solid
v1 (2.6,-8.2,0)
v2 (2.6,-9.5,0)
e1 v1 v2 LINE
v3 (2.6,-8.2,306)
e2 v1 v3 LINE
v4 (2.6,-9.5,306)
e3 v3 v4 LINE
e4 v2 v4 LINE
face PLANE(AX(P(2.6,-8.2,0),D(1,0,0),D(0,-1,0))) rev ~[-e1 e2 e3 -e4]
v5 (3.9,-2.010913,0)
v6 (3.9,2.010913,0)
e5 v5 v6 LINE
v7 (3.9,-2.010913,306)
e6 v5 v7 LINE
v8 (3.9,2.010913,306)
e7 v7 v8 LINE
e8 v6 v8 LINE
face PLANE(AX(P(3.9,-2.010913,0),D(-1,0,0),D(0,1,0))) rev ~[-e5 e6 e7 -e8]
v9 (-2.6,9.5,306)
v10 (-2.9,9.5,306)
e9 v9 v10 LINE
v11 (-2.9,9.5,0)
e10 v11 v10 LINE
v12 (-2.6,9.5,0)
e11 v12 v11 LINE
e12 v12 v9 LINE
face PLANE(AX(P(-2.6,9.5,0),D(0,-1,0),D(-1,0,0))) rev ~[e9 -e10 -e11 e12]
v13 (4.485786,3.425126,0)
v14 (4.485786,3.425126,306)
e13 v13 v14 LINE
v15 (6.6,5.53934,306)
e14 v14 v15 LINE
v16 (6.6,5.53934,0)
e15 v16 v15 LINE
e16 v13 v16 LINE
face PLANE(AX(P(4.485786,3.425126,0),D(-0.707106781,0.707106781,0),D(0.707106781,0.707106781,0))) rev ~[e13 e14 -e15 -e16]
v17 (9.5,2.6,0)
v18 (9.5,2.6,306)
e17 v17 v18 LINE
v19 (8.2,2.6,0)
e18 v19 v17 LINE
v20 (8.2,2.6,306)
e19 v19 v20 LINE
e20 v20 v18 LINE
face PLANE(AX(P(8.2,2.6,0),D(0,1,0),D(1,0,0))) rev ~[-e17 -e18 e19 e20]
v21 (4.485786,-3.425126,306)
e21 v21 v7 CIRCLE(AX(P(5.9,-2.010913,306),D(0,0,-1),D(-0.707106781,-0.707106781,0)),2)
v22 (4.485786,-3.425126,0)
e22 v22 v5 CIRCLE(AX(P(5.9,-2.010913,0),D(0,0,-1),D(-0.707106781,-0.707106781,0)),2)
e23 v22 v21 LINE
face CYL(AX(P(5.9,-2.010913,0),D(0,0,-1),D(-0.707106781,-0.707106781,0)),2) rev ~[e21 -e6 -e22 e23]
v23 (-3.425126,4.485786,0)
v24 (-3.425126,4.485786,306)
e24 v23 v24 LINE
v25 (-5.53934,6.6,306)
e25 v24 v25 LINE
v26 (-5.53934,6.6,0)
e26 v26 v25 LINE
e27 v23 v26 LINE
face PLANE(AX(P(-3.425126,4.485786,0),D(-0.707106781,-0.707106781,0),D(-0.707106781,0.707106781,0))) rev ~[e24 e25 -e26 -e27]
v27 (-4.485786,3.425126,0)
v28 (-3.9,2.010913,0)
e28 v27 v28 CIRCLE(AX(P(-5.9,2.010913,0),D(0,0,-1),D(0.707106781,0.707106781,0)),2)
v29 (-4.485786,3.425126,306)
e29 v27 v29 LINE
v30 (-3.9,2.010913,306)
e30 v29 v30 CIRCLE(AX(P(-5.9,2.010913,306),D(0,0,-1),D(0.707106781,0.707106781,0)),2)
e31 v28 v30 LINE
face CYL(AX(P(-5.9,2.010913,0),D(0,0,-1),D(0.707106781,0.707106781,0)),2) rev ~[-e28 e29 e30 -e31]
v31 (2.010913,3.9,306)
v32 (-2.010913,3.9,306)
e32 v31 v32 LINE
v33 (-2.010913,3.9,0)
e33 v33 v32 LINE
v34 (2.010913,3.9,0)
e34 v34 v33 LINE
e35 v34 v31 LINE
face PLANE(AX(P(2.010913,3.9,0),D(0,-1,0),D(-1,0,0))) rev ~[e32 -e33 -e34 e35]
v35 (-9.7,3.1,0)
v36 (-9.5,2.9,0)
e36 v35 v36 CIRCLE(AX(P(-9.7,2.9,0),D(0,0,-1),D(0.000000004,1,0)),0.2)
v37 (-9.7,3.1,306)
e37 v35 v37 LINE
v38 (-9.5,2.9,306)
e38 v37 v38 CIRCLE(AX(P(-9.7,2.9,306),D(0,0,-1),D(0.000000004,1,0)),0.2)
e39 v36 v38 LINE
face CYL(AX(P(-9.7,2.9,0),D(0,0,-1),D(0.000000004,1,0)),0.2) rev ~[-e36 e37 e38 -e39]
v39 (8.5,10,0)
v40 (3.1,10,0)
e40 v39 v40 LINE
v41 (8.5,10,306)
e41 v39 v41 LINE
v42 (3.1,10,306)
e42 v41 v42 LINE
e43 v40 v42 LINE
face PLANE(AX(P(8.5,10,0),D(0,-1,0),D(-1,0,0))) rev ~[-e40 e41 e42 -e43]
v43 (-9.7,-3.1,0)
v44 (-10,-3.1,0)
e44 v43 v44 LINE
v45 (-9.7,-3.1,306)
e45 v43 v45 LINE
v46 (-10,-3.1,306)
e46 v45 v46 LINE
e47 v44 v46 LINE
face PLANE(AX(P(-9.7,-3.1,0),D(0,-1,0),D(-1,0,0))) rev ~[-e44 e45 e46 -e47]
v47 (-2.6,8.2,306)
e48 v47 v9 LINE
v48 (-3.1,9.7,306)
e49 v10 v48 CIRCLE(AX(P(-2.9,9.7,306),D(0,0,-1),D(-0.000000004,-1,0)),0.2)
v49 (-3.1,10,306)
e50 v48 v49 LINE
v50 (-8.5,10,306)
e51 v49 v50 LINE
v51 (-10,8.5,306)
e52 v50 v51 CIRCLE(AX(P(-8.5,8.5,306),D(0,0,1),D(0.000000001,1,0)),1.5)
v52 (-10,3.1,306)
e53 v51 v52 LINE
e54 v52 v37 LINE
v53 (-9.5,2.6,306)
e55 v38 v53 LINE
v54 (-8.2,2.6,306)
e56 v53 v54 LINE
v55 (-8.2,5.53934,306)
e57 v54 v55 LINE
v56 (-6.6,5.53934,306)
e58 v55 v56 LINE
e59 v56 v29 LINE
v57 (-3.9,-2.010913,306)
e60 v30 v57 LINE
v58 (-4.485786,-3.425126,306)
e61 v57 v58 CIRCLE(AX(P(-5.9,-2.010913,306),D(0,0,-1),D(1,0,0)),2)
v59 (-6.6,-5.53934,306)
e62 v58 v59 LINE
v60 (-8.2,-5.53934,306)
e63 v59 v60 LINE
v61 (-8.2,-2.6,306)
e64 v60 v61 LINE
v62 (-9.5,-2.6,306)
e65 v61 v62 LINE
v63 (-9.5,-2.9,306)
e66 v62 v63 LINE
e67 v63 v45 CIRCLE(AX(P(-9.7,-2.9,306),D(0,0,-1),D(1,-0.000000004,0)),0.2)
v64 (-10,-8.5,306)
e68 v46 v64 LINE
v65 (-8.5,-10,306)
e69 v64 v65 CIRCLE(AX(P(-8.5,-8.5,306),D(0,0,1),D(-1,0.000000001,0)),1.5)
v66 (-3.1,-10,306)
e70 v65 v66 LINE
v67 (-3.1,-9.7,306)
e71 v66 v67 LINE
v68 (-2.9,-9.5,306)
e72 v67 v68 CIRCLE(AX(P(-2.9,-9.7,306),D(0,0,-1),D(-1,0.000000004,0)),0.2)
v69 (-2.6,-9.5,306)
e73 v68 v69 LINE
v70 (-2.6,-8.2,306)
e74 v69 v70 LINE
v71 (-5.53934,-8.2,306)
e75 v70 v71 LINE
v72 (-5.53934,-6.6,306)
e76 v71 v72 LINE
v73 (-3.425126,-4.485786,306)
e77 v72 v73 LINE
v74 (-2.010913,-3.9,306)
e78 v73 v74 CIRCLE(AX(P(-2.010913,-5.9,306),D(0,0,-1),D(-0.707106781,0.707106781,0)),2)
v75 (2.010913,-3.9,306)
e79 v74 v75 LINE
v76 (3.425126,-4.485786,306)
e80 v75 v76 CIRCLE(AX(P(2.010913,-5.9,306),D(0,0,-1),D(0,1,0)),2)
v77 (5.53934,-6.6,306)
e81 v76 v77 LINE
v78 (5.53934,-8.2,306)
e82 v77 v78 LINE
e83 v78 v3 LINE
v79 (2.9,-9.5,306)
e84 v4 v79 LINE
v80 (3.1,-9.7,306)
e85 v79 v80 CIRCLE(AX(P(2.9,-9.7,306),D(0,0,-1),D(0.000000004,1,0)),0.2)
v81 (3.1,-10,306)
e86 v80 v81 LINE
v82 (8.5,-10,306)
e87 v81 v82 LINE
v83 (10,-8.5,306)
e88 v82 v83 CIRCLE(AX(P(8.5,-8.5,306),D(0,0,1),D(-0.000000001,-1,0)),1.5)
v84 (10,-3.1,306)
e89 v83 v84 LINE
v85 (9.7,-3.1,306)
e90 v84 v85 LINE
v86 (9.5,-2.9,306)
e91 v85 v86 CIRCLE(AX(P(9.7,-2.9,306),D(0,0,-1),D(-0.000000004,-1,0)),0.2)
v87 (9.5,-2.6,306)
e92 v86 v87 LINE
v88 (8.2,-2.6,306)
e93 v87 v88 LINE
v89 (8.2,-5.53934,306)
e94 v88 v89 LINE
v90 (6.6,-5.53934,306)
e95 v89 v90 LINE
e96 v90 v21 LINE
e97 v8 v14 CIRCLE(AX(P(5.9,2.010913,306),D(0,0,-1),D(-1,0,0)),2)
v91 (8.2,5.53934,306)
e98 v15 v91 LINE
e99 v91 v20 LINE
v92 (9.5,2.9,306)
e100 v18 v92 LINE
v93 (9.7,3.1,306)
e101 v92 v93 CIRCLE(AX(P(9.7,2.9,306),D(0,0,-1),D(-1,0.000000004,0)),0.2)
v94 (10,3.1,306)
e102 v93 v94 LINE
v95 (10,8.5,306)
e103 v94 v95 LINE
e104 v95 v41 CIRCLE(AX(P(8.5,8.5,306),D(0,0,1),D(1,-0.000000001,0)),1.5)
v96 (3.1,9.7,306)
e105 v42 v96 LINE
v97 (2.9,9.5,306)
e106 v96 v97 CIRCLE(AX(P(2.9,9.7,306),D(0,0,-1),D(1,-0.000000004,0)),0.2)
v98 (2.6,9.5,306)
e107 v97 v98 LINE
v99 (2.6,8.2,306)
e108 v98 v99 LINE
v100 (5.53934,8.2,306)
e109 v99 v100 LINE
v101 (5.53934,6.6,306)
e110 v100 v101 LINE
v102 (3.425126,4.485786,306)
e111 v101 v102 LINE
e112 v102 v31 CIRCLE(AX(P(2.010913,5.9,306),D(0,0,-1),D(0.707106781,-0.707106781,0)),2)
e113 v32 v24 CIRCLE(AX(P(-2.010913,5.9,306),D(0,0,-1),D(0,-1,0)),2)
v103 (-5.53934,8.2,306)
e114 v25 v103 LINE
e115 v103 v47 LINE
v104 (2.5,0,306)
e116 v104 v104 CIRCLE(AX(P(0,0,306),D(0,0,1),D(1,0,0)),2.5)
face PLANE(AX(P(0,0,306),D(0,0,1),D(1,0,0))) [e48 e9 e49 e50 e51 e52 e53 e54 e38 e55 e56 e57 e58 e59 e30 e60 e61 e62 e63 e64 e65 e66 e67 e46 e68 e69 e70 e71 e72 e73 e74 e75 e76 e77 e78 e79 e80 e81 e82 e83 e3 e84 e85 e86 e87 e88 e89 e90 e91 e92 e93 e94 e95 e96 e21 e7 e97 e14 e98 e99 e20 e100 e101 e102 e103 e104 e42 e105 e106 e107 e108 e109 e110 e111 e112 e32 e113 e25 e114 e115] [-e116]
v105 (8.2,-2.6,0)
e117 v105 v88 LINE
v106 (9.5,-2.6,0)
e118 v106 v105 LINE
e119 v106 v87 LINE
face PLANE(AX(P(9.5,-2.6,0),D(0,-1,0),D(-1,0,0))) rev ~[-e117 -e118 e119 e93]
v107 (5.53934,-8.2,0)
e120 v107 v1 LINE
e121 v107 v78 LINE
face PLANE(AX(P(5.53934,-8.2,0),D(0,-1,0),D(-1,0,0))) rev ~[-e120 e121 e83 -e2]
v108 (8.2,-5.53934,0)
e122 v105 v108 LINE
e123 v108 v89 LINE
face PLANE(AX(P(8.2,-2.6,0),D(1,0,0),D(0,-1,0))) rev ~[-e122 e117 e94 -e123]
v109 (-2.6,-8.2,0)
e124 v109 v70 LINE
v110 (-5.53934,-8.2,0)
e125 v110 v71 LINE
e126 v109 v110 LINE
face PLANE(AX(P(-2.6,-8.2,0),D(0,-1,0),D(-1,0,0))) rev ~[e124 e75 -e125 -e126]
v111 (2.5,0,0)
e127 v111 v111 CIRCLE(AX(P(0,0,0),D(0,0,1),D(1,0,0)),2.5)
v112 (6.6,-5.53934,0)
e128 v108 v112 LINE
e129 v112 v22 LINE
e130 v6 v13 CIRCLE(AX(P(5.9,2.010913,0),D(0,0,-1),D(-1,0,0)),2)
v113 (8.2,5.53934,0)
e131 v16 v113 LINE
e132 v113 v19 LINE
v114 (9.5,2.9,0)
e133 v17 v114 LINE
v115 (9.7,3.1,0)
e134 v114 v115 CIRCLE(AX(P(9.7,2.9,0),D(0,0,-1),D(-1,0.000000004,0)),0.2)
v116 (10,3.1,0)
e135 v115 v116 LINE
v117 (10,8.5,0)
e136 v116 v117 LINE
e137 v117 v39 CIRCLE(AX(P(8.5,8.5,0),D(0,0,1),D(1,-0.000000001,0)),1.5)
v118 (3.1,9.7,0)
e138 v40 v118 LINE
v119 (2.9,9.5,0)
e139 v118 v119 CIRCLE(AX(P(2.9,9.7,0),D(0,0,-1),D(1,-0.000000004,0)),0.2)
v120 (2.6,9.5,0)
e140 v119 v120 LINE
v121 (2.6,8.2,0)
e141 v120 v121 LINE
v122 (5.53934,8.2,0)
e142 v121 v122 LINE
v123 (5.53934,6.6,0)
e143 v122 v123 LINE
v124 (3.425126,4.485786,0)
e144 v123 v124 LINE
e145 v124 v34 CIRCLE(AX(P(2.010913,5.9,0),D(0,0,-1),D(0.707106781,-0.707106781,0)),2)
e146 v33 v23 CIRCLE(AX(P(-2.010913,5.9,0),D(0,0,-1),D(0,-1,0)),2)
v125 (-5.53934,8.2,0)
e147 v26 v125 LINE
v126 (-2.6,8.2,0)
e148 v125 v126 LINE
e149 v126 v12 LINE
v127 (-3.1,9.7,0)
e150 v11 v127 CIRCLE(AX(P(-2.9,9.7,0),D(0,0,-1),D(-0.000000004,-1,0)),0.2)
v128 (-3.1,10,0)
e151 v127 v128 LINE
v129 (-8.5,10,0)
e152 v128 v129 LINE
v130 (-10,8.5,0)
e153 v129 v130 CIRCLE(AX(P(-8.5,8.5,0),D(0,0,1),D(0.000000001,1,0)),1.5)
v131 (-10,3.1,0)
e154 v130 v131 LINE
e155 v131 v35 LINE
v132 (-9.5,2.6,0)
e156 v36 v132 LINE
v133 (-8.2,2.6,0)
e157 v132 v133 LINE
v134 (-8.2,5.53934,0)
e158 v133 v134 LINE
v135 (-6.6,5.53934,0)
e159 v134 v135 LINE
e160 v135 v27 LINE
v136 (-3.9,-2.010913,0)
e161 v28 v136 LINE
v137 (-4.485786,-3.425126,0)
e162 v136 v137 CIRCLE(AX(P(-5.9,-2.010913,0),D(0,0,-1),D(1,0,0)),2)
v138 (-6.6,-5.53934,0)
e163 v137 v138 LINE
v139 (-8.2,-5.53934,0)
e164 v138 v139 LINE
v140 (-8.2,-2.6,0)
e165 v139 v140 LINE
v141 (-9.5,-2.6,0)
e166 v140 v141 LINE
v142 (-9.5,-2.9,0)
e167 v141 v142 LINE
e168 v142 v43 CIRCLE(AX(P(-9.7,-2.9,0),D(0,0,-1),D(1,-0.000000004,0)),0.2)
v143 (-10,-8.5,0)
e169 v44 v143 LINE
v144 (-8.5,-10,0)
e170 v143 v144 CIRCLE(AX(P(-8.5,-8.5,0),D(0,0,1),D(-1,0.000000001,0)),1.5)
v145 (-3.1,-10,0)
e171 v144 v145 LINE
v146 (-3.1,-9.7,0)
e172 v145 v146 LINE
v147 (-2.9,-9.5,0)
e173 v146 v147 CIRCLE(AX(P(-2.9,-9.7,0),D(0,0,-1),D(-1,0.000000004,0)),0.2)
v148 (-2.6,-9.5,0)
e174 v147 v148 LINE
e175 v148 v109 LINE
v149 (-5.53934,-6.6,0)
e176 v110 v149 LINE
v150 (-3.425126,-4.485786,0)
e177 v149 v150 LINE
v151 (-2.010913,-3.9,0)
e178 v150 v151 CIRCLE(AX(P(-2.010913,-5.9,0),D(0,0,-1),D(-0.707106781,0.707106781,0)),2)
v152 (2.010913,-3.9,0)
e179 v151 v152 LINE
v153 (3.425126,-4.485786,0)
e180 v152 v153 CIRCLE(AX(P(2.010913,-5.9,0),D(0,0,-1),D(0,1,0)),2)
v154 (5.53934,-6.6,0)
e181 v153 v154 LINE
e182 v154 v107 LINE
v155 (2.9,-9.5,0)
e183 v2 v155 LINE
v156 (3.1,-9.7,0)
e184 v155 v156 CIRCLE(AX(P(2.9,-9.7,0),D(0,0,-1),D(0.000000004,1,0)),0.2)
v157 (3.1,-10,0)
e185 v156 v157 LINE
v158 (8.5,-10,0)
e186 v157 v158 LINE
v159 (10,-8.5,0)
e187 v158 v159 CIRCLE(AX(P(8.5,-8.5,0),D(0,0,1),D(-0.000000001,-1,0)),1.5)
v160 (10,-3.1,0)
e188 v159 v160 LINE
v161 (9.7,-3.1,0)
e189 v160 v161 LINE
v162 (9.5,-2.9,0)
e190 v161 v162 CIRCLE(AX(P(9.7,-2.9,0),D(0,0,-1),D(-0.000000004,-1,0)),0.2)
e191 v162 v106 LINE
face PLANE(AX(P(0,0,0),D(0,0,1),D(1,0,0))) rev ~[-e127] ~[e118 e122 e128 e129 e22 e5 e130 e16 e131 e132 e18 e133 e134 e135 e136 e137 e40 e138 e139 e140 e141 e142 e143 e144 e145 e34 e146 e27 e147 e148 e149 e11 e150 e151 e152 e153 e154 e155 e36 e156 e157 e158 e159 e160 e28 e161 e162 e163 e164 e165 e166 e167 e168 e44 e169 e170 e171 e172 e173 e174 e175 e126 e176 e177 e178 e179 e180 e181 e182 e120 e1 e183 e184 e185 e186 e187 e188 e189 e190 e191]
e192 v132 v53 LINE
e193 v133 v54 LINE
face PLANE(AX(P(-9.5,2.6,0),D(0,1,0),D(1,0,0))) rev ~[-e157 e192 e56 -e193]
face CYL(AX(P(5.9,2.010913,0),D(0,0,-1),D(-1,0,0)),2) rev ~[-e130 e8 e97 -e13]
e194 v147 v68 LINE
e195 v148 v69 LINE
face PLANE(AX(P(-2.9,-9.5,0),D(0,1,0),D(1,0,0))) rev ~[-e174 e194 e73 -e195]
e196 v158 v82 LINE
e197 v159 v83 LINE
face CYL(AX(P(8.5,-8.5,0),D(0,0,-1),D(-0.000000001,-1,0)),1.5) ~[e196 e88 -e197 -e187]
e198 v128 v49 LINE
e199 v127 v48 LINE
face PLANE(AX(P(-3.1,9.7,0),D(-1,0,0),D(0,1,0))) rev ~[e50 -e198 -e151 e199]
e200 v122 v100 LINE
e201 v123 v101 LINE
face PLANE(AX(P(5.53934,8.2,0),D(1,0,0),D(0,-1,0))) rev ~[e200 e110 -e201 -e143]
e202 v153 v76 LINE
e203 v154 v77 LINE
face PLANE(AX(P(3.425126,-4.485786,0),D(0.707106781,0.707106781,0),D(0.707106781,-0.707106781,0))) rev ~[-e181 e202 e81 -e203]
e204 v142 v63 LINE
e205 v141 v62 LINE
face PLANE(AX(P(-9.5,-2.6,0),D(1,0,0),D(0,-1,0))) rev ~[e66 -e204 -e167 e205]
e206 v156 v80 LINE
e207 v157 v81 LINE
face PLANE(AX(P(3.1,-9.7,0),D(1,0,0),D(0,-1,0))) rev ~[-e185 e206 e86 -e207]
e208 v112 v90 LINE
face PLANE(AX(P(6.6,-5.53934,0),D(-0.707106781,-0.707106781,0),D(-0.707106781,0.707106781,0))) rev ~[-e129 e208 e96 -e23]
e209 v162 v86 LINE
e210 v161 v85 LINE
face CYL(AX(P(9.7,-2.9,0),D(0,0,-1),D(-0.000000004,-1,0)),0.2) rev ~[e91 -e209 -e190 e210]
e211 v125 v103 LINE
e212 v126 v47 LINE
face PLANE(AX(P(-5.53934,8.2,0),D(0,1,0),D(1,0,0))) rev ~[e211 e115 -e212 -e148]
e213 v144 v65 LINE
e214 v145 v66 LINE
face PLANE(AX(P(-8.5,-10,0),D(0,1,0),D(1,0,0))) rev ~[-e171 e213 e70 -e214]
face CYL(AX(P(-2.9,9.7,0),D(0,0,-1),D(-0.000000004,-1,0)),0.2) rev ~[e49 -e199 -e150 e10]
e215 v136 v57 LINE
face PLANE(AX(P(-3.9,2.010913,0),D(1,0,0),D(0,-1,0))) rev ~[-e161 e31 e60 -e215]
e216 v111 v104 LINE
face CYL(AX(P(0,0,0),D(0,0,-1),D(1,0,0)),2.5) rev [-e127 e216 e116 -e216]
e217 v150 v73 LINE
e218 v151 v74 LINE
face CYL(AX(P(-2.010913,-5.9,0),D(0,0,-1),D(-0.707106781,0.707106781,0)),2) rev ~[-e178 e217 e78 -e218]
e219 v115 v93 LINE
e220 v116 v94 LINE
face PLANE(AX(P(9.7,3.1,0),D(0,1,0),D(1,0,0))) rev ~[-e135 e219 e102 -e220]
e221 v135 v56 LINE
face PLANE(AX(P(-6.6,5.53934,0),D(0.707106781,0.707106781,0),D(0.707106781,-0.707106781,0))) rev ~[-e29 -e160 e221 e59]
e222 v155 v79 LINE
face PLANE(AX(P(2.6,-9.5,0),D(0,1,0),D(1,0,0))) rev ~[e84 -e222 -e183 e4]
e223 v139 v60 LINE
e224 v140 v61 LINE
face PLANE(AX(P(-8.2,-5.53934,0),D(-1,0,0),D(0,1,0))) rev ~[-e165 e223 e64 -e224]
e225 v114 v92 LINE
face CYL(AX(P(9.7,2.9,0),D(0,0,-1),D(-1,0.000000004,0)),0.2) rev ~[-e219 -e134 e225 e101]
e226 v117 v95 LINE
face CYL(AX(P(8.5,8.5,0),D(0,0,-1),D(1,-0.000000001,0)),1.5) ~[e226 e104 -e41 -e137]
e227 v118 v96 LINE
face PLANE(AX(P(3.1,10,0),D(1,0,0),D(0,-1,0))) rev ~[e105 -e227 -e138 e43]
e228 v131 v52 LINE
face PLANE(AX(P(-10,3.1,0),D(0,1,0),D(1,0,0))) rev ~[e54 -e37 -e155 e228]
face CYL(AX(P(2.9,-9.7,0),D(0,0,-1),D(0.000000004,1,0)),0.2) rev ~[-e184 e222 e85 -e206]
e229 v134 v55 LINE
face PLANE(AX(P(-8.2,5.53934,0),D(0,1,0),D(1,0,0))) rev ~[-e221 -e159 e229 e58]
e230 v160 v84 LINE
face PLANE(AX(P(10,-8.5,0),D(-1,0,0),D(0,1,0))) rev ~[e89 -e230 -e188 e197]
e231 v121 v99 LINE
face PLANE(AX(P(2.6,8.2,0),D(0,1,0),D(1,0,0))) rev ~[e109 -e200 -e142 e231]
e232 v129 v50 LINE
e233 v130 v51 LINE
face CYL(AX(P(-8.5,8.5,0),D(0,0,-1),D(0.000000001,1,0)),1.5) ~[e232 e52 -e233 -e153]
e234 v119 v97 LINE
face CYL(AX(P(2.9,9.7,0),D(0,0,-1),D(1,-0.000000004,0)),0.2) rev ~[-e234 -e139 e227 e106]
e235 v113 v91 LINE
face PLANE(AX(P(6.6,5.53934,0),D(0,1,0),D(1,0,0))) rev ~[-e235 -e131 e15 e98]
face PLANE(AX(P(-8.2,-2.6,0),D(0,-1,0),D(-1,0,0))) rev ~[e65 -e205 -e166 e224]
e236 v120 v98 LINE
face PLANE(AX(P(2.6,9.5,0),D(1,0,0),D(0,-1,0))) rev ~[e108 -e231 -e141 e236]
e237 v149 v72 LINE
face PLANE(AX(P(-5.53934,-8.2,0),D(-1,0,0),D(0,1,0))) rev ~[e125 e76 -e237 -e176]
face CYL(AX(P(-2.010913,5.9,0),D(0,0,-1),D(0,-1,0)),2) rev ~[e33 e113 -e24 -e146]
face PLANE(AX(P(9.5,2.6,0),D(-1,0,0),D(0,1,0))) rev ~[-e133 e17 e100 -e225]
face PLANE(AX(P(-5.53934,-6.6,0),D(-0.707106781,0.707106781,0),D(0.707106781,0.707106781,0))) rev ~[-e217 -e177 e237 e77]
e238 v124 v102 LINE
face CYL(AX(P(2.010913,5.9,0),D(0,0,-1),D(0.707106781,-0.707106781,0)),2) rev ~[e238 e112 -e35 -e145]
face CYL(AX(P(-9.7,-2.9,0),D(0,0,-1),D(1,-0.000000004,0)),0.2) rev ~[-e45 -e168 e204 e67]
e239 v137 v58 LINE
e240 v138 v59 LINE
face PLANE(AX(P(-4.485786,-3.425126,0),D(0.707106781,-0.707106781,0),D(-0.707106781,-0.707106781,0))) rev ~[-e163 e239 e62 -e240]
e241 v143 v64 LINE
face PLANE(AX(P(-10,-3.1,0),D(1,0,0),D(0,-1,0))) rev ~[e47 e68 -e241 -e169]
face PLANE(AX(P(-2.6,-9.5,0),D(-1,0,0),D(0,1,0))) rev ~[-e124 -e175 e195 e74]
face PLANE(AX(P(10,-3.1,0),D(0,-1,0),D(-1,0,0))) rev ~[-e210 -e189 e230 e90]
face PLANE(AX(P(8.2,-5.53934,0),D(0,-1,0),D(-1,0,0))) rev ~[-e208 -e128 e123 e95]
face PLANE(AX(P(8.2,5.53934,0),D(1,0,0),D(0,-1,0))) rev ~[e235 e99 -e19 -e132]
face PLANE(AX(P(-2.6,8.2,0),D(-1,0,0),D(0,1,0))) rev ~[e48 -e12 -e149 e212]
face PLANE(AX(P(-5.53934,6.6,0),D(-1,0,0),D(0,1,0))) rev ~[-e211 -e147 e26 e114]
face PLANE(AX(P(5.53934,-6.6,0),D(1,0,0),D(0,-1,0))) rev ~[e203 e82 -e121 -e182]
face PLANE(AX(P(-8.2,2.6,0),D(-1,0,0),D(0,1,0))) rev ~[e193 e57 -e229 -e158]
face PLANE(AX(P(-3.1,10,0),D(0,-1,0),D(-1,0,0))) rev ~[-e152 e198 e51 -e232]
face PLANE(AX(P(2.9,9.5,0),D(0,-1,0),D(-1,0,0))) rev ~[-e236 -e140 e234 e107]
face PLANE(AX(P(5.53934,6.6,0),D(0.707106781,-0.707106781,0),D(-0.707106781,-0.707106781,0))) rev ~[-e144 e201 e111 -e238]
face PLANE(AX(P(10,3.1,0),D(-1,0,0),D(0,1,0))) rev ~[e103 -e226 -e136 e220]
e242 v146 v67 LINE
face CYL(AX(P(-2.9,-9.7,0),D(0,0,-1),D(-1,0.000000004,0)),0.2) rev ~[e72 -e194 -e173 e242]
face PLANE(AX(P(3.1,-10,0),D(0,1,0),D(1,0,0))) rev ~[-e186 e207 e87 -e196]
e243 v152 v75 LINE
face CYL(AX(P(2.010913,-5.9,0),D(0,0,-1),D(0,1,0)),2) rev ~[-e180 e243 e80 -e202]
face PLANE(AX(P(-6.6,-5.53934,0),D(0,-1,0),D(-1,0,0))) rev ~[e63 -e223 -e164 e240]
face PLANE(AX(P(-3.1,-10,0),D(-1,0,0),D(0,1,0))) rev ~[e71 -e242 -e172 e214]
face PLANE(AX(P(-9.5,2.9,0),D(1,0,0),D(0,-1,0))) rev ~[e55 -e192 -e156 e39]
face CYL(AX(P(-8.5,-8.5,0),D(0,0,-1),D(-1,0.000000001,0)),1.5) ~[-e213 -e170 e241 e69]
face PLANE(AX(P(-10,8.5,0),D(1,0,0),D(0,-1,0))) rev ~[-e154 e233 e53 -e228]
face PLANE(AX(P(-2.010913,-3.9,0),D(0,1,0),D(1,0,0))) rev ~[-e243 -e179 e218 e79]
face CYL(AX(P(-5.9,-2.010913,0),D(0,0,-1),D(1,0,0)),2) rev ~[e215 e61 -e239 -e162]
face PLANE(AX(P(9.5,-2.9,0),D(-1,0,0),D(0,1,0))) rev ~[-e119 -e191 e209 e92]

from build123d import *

# Parameters (mm, degrees)
SKETCH1_R      = 2.5
EXTRUDE1_DEPTH = 306


with BuildPart() as part:
    # Sketch1 → Extrude1 (new body)
    with BuildSketch(Plane.XY):
        with BuildLine():
            Line((0, 3.9), (-2.010912703, 3.9))
            ThreePointArc((-2.010912703, 3.9), (-2.776279568, 4.052240935), (-3.425126266, 4.485786438))
            Line((-3.425126266, 4.485786438), (-5.539339828, 6.6))
            Line((-5.539339828, 6.6), (-5.539339828, 8.2))
            Line((-5.539339828, 8.2), (-2.6, 8.2))
            Line((-2.6, 8.2), (-2.6, 9.5))
            Line((-2.6, 9.5), (-2.9, 9.5))
            ThreePointArc((-2.9, 9.5), (-3.041421356, 9.558578644), (-3.1, 9.7))
            Line((-3.1, 9.7), (-3.1, 10))
            Line((-3.1, 10), (-8.5, 10))
            ThreePointArc((-8.5, 10), (-9.560660172, 9.560660172), (-10, 8.5))
            Line((-10, 8.5), (-10, 3.1))
            Line((-10, 3.1), (-9.7, 3.1))
            ThreePointArc((-9.7, 3.1), (-9.558578644, 3.041421356), (-9.5, 2.9))
            Line((-9.5, 2.9), (-9.5, 2.6))
            Line((-9.5, 2.6), (-8.2, 2.6))
            Line((-8.2, 2.6), (-8.2, 5.539339828))
            Line((-8.2, 5.539339828), (-6.6, 5.539339828))
            Line((-6.6, 5.539339828), (-4.485786438, 3.425126266))
            ThreePointArc((-4.485786438, 3.425126266), (-4.052240935, 2.776279568), (-3.9, 2.010912703))
            Line((-3.9, 2.010912703), (-3.9, 0))
            Line((-3.9, 0), (-3.9, -2.010912703))
            ThreePointArc((-3.9, -2.010912703), (-4.052240935, -2.776279568), (-4.485786438, -3.425126266))
            Line((-4.485786438, -3.425126266), (-6.6, -5.539339828))
            Line((-6.6, -5.539339828), (-8.2, -5.539339828))
            Line((-8.2, -5.539339828), (-8.2, -2.6))
            Line((-8.2, -2.6), (-9.5, -2.6))
            Line((-9.5, -2.6), (-9.5, -2.9))
            ThreePointArc((-9.5, -2.9), (-9.558578644, -3.041421356), (-9.7, -3.1))
            Line((-9.7, -3.1), (-10, -3.1))
            Line((-10, -3.1), (-10, -8.5))
            ThreePointArc((-10, -8.5), (-9.560660172, -9.560660172), (-8.5, -10))
            Line((-8.5, -10), (-3.1, -10))
            Line((-3.1, -10), (-3.1, -9.7))
            ThreePointArc((-3.1, -9.7), (-3.041421356, -9.558578644), (-2.9, -9.5))
            Line((-2.9, -9.5), (-2.6, -9.5))
            Line((-2.6, -9.5), (-2.6, -8.2))
            Line((-2.6, -8.2), (-5.539339828, -8.2))
            Line((-5.539339828, -8.2), (-5.539339828, -6.6))
            Line((-5.539339828, -6.6), (-3.425126266, -4.485786438))
            ThreePointArc((-3.425126266, -4.485786438), (-2.776279568, -4.052240935), (-2.010912703, -3.9))
            Line((-2.010912703, -3.9), (0, -3.9))
            Line((0, -3.9), (2.010912703, -3.9))
            ThreePointArc((2.010912703, -3.9), (2.776279568, -4.052240935), (3.425126266, -4.485786438))
            Line((3.425126266, -4.485786438), (5.539339828, -6.6))
            Line((5.539339828, -6.6), (5.539339828, -8.2))
            Line((5.539339828, -8.2), (2.6, -8.2))
            Line((2.6, -8.2), (2.6, -9.5))
            Line((2.6, -9.5), (2.9, -9.5))
            ThreePointArc((2.9, -9.5), (3.041421356, -9.558578644), (3.1, -9.7))
            Line((3.1, -9.7), (3.1, -10))
            Line((3.1, -10), (8.5, -10))
            ThreePointArc((8.5, -10), (9.560660172, -9.560660172), (10, -8.5))
            Line((10, -8.5), (10, -3.1))
            Line((10, -3.1), (9.7, -3.1))
            ThreePointArc((9.7, -3.1), (9.558578644, -3.041421356), (9.5, -2.9))
            Line((9.5, -2.9), (9.5, -2.6))
            Line((9.5, -2.6), (8.2, -2.6))
            Line((8.2, -2.6), (8.2, -5.539339828))
            Line((8.2, -5.539339828), (6.6, -5.539339828))
            Line((6.6, -5.539339828), (4.485786438, -3.425126266))
            ThreePointArc((4.485786438, -3.425126266), (4.052240935, -2.776279568), (3.9, -2.010912703))
            Line((3.9, -2.010912703), (3.9, 0))
            Line((3.9, 0), (3.9, 2.010912703))
            ThreePointArc((3.9, 2.010912703), (4.052240935, 2.776279568), (4.485786438, 3.425126266))
            Line((4.485786438, 3.425126266), (6.6, 5.539339828))
            Line((6.6, 5.539339828), (8.2, 5.539339828))
            Line((8.2, 5.539339828), (8.2, 2.6))
            Line((8.2, 2.6), (9.5, 2.6))
            Line((9.5, 2.6), (9.5, 2.9))
            ThreePointArc((9.5, 2.9), (9.558578644, 3.041421356), (9.7, 3.1))
            Line((9.7, 3.1), (10, 3.1))
            Line((10, 3.1), (10, 8.5))
            ThreePointArc((10, 8.5), (9.560660172, 9.560660172), (8.5, 10))
            Line((8.5, 10), (3.1, 10))
            Line((3.1, 10), (3.1, 9.7))
            ThreePointArc((3.1, 9.7), (3.041421356, 9.558578644), (2.9, 9.5))
            Line((2.9, 9.5), (2.6, 9.5))
            Line((2.6, 9.5), (2.6, 8.2))
            Line((2.6, 8.2), (5.539339828, 8.2))
            Line((5.539339828, 8.2), (5.539339828, 6.6))
            Line((5.539339828, 6.6), (3.425126266, 4.485786438))
            ThreePointArc((3.425126266, 4.485786438), (2.776279568, 4.052240935), (2.010912703, 3.9))
            Line((2.010912703, 3.9), (0, 3.9))
        make_face()
        Circle(SKETCH1_R, mode=Mode.SUBTRACT)
    extrude(amount=EXTRUDE1_DEPTH)


solid = part.part
